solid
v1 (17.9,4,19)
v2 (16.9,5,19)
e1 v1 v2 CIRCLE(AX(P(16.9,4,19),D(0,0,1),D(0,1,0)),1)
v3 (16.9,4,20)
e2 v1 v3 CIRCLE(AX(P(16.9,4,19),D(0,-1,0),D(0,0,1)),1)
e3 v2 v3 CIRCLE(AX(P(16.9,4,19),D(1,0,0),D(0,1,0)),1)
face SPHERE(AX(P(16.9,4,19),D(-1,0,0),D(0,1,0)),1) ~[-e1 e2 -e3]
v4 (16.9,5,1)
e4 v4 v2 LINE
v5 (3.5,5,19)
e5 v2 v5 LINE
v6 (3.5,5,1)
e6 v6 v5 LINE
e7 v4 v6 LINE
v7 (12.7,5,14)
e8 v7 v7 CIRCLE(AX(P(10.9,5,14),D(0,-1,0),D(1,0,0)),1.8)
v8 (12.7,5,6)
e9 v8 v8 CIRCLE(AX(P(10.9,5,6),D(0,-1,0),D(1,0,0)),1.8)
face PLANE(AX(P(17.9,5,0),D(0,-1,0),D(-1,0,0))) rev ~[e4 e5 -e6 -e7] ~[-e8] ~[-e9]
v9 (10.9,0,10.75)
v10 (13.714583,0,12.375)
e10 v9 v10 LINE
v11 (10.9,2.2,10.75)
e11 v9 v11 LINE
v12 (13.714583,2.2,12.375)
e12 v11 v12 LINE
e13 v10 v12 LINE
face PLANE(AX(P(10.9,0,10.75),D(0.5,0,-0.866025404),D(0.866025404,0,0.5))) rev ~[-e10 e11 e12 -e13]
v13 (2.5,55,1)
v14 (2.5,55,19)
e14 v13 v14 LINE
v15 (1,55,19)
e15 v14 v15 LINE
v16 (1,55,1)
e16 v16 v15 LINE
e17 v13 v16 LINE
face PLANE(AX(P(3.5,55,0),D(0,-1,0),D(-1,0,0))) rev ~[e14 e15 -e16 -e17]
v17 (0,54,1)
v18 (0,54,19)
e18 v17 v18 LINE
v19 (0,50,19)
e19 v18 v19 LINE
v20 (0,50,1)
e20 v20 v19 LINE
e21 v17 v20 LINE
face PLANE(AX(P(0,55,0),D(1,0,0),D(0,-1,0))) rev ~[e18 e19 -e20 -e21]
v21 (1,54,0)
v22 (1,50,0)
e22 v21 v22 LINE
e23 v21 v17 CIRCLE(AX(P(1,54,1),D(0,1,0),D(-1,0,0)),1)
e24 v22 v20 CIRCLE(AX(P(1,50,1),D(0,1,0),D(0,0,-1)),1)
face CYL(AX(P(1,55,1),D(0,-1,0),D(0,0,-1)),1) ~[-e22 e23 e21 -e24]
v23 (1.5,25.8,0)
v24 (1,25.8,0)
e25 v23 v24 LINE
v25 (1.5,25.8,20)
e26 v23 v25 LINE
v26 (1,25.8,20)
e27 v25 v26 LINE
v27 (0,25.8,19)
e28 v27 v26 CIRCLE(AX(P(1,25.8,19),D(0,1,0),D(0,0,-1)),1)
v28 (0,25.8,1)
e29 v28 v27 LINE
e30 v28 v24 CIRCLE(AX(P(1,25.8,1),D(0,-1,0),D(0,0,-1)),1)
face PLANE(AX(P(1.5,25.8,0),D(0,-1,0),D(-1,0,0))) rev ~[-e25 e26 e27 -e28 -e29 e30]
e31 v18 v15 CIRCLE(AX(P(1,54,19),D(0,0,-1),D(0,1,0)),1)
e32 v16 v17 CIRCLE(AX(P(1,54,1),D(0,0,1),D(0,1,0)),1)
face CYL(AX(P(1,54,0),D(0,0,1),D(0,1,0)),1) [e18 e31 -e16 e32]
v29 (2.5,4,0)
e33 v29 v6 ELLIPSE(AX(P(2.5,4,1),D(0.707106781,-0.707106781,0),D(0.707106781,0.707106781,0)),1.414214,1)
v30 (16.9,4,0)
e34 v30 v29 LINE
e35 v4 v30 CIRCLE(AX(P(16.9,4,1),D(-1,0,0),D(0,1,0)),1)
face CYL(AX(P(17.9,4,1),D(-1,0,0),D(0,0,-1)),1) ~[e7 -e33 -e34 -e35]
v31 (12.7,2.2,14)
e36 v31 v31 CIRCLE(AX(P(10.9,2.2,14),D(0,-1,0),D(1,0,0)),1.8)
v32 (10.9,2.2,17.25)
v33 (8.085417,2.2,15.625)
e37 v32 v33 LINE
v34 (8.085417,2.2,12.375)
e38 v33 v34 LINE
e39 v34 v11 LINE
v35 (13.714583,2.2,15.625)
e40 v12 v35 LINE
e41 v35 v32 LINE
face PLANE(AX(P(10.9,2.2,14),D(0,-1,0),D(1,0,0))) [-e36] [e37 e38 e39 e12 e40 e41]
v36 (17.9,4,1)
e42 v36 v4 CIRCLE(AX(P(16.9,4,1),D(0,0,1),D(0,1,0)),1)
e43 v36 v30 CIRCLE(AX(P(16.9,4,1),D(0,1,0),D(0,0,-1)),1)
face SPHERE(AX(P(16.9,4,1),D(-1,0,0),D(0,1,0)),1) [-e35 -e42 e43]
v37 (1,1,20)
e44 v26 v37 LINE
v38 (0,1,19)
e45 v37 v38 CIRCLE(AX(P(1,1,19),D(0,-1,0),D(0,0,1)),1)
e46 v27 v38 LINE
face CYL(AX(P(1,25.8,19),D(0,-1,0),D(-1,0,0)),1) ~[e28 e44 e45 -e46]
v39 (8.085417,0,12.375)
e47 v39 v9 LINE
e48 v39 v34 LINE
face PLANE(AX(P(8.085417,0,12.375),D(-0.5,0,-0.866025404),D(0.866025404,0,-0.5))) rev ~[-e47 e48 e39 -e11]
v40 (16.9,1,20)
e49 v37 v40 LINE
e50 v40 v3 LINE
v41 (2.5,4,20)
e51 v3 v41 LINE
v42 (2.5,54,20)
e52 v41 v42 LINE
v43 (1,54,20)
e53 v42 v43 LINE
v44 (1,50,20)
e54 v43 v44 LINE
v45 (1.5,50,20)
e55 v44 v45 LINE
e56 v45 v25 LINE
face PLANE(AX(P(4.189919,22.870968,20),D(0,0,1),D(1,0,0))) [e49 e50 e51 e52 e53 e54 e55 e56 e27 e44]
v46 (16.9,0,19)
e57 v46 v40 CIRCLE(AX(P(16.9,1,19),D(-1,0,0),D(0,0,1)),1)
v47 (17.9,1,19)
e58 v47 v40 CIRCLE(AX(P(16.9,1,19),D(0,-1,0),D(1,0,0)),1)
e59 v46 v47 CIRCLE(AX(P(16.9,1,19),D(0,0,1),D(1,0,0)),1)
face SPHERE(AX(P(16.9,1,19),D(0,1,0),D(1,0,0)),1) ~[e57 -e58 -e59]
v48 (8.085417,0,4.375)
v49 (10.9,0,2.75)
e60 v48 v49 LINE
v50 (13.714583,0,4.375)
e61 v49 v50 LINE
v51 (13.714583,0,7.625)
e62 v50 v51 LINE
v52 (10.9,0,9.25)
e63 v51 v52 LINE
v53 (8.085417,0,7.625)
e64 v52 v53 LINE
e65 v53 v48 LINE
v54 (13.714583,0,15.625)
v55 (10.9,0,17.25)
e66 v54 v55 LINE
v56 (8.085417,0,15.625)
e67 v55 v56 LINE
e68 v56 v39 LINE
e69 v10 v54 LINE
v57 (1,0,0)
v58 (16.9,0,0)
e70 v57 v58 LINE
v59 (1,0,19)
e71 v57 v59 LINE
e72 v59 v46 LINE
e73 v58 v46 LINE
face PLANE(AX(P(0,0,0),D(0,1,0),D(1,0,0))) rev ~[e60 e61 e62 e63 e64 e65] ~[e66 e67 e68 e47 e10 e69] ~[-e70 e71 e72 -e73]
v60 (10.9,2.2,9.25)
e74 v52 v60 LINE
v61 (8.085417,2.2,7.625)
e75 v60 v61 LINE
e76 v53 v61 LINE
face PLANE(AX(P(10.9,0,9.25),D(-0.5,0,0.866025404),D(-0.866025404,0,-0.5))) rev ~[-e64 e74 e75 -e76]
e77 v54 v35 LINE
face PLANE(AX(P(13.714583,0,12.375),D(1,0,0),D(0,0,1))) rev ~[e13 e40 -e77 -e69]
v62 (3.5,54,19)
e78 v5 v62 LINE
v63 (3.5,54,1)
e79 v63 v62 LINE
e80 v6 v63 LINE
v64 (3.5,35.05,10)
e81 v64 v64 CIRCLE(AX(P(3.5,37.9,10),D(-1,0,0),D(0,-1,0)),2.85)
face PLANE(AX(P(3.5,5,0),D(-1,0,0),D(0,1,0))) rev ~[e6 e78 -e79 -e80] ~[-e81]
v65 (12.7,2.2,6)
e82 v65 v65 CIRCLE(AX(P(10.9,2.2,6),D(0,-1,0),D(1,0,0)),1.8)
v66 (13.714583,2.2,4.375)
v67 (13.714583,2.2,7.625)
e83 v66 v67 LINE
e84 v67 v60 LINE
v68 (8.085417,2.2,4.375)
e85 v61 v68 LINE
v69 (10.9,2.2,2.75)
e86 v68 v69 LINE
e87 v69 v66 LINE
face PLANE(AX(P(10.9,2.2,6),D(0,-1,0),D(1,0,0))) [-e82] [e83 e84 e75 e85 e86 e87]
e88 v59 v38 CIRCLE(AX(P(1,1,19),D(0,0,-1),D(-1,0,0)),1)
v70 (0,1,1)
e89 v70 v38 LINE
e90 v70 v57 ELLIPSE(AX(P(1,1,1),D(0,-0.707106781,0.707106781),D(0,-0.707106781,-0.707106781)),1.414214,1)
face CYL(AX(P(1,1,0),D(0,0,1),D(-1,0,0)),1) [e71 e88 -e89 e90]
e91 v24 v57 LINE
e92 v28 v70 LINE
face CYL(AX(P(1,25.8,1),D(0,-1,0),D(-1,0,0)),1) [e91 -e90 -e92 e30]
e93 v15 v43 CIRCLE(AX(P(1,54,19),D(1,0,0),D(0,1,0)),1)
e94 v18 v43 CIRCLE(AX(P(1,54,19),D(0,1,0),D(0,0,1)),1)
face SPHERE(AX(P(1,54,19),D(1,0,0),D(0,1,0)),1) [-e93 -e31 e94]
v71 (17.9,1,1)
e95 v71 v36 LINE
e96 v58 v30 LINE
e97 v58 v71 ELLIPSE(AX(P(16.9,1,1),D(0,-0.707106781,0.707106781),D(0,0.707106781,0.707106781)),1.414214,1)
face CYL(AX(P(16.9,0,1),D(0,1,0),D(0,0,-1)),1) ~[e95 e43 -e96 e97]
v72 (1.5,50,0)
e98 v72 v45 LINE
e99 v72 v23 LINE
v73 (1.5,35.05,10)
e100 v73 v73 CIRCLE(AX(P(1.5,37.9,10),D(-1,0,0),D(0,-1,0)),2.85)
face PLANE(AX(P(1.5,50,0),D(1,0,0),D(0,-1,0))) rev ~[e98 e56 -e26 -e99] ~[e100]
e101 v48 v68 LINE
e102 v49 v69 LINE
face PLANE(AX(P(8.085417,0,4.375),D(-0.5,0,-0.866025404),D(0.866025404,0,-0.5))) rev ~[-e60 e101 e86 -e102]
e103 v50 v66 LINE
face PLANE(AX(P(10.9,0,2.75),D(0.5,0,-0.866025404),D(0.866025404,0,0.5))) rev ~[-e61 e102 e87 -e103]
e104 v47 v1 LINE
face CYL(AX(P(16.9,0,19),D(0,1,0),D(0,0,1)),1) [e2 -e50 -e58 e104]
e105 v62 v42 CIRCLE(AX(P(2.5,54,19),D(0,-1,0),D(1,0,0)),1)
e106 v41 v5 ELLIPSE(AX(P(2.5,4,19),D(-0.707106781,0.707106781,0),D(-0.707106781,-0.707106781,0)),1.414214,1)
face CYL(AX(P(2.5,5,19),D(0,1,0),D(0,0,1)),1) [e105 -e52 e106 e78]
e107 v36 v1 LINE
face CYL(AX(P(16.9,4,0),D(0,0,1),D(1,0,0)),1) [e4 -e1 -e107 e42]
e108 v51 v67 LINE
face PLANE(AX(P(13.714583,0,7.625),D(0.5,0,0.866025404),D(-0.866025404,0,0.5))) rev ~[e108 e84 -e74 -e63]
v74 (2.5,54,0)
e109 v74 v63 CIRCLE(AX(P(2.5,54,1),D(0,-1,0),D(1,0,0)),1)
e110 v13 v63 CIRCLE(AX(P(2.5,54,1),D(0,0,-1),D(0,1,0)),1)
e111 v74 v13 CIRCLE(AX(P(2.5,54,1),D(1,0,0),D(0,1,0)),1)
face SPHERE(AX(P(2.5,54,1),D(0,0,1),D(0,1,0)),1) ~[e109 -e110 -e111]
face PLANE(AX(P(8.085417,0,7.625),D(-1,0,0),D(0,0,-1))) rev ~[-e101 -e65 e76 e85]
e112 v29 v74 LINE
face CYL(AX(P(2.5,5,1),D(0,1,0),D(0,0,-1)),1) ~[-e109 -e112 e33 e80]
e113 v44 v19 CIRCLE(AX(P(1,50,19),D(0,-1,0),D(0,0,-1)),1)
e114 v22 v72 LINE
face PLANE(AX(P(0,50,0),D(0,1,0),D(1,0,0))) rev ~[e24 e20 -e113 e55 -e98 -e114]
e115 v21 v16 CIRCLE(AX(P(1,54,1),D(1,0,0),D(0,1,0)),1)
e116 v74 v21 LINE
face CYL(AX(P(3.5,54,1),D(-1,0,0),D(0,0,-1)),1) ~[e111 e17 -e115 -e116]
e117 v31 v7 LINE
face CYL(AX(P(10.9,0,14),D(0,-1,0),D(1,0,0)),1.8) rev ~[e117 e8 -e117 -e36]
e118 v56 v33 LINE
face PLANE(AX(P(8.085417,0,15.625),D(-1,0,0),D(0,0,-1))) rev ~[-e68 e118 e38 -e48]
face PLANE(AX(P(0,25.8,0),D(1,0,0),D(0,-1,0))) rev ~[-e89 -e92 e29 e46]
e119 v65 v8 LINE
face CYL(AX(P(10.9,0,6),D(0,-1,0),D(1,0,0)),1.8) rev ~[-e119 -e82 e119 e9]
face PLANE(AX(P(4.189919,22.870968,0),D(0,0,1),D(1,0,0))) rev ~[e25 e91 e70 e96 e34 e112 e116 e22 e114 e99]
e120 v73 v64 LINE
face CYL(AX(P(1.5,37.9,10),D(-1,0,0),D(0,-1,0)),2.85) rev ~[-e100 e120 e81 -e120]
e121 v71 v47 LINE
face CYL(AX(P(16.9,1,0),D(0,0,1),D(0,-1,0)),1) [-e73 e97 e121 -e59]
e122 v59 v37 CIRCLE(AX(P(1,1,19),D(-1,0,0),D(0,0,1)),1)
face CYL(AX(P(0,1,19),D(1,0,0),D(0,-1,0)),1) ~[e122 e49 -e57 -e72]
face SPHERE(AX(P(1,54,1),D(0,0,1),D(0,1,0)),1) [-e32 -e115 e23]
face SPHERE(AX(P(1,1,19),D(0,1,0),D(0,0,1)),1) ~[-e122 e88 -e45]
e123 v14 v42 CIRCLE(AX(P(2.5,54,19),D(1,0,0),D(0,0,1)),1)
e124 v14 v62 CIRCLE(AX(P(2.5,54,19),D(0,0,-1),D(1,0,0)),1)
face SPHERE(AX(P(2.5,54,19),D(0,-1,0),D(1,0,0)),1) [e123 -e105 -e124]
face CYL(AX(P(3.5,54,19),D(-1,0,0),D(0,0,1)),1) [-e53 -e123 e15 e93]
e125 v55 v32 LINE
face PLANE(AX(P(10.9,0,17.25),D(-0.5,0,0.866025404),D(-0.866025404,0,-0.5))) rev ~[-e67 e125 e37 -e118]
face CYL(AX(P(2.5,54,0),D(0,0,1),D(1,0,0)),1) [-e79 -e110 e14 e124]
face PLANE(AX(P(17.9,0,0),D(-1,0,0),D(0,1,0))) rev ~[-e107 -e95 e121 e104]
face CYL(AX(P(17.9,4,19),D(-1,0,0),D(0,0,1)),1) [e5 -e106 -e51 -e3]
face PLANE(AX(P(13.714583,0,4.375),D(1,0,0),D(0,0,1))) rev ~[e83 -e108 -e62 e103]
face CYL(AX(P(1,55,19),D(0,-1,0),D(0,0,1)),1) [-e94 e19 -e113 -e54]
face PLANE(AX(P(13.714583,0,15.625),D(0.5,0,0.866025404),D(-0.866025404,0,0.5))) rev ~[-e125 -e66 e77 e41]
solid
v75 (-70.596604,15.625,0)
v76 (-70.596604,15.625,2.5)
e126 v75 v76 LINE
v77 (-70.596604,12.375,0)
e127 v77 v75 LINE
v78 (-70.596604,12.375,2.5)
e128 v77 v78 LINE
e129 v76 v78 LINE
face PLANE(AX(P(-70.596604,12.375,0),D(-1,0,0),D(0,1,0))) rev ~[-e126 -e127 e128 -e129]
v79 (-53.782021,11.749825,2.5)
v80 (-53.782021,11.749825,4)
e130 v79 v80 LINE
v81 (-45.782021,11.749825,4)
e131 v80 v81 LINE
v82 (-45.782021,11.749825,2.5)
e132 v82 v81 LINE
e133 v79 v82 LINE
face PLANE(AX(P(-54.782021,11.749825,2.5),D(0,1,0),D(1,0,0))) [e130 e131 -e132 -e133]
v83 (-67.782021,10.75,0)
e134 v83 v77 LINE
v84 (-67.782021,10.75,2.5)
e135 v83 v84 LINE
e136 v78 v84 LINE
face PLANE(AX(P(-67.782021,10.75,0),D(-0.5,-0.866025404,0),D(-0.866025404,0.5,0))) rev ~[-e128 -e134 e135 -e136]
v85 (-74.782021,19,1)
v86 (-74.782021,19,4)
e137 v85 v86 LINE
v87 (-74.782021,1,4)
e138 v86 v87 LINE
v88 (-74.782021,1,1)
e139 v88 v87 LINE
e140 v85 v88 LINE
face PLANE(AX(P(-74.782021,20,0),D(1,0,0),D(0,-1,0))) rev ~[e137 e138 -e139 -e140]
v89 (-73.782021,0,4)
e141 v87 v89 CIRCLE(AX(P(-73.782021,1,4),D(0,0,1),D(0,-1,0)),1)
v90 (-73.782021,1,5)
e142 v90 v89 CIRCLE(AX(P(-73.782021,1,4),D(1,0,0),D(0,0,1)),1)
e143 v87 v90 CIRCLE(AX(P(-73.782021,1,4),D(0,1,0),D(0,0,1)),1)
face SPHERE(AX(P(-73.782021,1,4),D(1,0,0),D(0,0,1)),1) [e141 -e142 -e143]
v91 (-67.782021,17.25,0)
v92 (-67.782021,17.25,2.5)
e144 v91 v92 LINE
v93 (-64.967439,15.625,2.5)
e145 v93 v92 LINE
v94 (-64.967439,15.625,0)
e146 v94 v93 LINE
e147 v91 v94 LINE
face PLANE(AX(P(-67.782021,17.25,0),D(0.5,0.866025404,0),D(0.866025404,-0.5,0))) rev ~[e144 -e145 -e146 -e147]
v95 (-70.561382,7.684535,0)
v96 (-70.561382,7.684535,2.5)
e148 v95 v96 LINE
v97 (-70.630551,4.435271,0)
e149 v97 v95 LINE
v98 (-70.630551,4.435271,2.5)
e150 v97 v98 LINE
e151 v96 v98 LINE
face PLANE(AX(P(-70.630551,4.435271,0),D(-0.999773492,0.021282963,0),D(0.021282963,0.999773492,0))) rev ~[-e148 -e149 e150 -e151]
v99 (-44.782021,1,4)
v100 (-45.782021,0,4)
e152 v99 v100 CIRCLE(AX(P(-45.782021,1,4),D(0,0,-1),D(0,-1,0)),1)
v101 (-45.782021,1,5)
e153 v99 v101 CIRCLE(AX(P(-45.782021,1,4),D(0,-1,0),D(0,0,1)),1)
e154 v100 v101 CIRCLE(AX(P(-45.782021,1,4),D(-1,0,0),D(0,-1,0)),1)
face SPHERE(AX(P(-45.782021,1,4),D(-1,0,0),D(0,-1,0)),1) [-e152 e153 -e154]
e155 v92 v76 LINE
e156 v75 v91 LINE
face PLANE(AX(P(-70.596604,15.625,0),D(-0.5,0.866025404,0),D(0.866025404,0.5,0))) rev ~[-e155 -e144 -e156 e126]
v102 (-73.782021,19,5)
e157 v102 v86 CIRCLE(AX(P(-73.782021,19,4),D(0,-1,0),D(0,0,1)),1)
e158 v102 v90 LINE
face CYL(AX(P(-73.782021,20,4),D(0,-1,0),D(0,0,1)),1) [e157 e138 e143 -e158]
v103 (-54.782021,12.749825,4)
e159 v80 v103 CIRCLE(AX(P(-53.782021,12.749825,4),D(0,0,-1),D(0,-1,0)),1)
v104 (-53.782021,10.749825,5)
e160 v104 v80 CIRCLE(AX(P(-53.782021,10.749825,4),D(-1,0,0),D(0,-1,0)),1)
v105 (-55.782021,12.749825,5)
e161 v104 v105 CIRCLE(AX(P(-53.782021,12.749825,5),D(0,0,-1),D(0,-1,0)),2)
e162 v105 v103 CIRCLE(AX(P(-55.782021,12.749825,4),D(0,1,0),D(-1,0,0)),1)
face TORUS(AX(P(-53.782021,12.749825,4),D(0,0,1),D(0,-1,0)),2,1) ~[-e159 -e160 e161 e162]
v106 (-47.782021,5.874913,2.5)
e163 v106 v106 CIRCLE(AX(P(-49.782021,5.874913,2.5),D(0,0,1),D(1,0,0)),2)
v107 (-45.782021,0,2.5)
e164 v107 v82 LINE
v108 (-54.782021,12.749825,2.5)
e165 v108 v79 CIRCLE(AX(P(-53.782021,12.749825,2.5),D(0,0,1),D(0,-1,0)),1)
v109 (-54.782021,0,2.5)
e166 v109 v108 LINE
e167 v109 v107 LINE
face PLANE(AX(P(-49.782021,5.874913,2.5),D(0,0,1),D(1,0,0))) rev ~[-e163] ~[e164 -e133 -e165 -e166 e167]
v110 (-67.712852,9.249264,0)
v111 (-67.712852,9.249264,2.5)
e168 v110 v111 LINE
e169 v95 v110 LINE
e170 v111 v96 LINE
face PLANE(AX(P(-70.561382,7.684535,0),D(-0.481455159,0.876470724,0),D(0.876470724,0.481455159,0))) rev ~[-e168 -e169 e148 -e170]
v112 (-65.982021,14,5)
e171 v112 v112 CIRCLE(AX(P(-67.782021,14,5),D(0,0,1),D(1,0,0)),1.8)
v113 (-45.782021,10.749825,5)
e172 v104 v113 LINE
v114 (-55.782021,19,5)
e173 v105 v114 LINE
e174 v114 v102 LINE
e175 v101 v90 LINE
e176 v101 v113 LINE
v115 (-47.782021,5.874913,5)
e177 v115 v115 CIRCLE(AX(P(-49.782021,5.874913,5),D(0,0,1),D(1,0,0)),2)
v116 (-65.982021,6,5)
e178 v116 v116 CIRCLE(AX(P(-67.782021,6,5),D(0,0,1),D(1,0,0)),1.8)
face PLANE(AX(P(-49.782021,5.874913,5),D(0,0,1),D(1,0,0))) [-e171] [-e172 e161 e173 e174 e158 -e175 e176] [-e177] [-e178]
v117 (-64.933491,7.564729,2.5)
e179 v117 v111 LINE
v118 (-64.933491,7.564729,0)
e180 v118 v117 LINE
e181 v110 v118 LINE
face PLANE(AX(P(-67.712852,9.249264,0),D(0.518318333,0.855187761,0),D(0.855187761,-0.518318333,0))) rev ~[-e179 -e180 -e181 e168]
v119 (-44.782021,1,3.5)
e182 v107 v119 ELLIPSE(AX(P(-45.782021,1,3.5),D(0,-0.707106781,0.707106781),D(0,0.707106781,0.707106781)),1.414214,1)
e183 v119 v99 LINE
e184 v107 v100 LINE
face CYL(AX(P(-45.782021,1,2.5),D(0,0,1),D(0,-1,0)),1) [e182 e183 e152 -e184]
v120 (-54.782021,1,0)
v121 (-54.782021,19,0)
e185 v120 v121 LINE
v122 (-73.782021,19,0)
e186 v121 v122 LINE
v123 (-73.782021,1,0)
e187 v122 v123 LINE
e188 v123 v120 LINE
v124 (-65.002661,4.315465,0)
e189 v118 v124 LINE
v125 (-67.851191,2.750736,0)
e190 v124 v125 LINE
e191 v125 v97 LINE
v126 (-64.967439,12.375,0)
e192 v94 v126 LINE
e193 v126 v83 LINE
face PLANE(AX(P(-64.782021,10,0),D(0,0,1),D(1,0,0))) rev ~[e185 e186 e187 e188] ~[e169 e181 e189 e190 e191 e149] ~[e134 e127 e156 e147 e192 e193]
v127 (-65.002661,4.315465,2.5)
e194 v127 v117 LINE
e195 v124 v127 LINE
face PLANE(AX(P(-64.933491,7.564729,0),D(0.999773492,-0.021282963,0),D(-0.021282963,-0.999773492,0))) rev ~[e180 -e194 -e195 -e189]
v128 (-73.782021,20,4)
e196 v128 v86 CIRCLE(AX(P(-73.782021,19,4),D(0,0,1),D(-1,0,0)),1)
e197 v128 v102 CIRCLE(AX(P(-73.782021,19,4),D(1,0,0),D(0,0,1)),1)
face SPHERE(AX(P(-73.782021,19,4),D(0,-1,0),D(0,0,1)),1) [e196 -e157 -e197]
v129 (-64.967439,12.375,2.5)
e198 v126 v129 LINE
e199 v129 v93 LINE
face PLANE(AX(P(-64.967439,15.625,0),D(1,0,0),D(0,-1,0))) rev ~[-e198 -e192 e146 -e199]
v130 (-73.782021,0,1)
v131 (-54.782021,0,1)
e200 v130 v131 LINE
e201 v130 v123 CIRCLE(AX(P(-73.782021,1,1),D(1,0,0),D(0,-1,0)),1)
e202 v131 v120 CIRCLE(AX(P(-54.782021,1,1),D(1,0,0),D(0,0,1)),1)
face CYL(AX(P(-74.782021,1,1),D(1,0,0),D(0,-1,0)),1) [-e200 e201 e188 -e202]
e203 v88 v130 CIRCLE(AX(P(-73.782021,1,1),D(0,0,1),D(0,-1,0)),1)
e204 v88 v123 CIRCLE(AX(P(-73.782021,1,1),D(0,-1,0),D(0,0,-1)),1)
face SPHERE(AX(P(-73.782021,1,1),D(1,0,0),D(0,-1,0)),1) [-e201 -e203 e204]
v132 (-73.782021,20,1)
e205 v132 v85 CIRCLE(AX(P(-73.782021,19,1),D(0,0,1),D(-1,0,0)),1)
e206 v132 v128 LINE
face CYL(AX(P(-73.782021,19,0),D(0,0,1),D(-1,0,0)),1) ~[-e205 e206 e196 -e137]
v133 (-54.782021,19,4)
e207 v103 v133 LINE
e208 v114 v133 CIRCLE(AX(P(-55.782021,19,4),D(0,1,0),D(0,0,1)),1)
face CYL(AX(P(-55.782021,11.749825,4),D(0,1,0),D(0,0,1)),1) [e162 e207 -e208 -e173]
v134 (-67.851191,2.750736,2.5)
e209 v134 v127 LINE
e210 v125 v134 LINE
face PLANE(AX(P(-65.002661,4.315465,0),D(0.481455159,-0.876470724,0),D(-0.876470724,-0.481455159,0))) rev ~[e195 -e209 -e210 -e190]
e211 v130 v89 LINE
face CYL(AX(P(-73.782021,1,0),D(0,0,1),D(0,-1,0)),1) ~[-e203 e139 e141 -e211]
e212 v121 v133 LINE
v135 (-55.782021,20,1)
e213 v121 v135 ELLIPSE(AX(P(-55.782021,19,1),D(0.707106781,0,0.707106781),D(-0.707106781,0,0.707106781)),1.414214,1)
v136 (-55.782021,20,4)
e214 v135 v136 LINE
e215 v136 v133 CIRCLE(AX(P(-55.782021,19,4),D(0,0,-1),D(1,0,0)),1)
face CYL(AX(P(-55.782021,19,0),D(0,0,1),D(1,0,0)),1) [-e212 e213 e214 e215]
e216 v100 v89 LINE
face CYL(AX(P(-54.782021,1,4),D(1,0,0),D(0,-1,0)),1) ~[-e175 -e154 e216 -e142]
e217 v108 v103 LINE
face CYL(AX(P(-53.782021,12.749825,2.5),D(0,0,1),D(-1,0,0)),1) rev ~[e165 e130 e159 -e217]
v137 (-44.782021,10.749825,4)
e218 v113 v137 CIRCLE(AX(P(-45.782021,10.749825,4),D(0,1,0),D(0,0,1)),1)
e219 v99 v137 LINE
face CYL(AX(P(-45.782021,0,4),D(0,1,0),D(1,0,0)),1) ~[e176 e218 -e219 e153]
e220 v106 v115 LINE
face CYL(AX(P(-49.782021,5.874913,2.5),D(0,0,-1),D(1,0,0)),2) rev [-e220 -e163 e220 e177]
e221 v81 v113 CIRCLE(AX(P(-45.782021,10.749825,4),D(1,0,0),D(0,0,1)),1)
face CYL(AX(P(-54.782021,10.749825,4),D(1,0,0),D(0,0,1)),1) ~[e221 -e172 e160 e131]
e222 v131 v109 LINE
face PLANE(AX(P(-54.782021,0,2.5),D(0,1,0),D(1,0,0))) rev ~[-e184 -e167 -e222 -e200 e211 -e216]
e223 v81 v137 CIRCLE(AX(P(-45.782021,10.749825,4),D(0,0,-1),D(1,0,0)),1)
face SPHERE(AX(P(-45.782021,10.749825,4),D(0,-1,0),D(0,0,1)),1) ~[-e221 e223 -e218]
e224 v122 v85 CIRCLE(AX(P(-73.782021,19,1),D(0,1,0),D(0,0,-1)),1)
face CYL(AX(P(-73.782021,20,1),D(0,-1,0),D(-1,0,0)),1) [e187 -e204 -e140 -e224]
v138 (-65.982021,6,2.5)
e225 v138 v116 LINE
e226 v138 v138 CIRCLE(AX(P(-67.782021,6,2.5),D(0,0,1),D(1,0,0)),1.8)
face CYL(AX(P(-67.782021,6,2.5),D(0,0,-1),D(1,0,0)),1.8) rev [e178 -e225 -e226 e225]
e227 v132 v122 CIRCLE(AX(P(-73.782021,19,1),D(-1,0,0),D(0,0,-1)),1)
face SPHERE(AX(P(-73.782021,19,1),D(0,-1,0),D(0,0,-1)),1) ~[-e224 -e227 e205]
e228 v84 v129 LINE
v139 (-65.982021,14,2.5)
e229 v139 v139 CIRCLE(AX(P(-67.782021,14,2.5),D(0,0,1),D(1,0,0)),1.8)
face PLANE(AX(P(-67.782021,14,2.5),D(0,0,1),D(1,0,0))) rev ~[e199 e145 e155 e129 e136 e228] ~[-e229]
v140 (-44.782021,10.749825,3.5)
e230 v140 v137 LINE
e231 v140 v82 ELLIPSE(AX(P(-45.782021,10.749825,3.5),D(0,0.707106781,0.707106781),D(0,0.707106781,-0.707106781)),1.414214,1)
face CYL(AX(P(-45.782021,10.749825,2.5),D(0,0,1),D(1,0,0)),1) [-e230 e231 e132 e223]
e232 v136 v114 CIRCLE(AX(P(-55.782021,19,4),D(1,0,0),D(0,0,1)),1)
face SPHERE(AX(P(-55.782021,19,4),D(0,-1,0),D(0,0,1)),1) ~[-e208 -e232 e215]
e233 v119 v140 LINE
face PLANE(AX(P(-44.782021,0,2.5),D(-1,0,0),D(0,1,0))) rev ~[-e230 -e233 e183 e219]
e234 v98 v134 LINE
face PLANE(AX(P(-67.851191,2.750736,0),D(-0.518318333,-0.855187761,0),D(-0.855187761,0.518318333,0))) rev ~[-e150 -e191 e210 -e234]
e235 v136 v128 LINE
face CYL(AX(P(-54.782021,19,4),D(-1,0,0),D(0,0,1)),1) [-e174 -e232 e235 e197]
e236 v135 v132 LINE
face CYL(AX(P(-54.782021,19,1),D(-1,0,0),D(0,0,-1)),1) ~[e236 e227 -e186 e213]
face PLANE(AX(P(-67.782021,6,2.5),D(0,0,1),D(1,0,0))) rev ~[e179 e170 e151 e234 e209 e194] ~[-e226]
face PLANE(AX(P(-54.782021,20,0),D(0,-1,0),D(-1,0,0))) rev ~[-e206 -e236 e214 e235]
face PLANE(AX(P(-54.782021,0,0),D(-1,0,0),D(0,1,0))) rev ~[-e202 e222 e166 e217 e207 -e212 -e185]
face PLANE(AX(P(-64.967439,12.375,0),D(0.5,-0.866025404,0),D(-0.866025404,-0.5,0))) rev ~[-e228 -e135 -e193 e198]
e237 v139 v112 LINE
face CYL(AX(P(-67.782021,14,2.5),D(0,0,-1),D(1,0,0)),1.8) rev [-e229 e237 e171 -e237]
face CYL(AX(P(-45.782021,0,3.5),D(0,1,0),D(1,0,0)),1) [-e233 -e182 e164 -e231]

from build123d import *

# Parameters (mm, degrees)
F1_DEPTH  = 20
F2_R      = 1.8
F3_DEPTH  = 5
F4_DEPTH  = 2.2
F5_R      = 2.85
F6_DEPTH  = 25
F7_R      = 1
F8_DEPTH  = 5
F9_START  = 2.5
F0_R      = 1.8
F9_DEPTH  = 2.5
F10_START = 2.5
F0_W      = 10
F0_H      = 11.7498254403
F0_R_2    = 2
F10_DEPTH = 2.5
F11_R     = 1


with BuildPart() as f1:
    # F0 (on Top) → F1 (new body)
    with BuildSketch(Plane.XY):
        Polygon((0, 25.8), (0, 0), (17.9, 0), (17.9, 5), (3.5, 5), (3.5, 55), (0, 55), (0, 50), (1.5, 50), (1.5, 25.8), align=None)
    extrude(amount=F1_DEPTH)

    # F2 (on face) → F3 (cut)
    with BuildSketch(Plane.XZ):
        with Locations((10.9, 6)):
            Circle(F2_R)
        with Locations((10.9, 14)):
            Circle(F2_R)
    extrude(amount=-F3_DEPTH, mode=Mode.SUBTRACT)

    # F2 (on face) → F4 (cut)
    with BuildSketch(Plane.XZ):
        Polygon((8.0854174377, 12.375), (10.9, 10.75), (13.7145825623, 12.375), (13.7145825623, 15.625), (10.9, 17.25), (8.0854174377, 15.625), align=None)
        with Locations((10.9, 14)):
            Circle(F2_R, mode=Mode.SUBTRACT)
        Polygon((13.7145825623, 7.625), (10.9, 9.25), (8.0854174377, 7.625), (8.0854174377, 4.375), (10.9, 2.75), (13.7145825623, 4.375), align=None)
        with Locations((10.9, 6)):
            Circle(F2_R, mode=Mode.SUBTRACT)
    extrude(amount=-F4_DEPTH, mode=Mode.SUBTRACT)

    # F5 (on face) → F6 (cut)
    with BuildSketch(Plane(origin=(1.5, 0, 0), x_dir=(0, -1, 0), z_dir=(-1, 0, 0))):
        with Locations((-37.9, 10)):
            Circle(F5_R)
    extrude(amount=-F6_DEPTH, mode=Mode.SUBTRACT)

    # F7
    f7_edges = [f1.edges().sort_by_distance(p)[0] for p in [
        (10.7, 5, 20),
        (3.5, 30, 20),
        (3.5, 55, 10),
        (1.75, 55, 20),
        (0, 55, 10),
        (1.75, 55, 0),
        (3.5, 30, 0),
        (10.7, 5, 0),
        (17.9, 5, 10),
        (17.9, 2.5, 0),
        (17.9, 2.5, 20),
        (17.9, 0, 10),
        (0, 12.9, 20),
        (8.95, 0, 20),
        (0, 52.5, 20),
        (0, 12.9, 0),
        (0, 0, 10),
        (0, 52.5, 0),
    ]]
    fillet(f7_edges, radius=F7_R)


with BuildPart() as f8:
    # F0 (on Top) → F8 (new body)
    with BuildSketch(Plane.XY):
        Polygon((-74.7820213437, 20), (-74.7820213437, 0), (-54.7820213437, 0), (-54.7820213437, 11.7498254403), (-54.7820213437, 20), align=None)
        Polygon((-70.630551196, 4.4352707325), (-70.5613815655, 7.6845345818), (-67.7128517132, 9.2492638493), (-64.9334914914, 7.5647292675), (-65.0026611219, 4.3154654182), (-67.8511909742, 2.7507361507), align=None, mode=Mode.SUBTRACT)
        Polygon((-64.9674387814, 12.375), (-67.7820213437, 10.75), (-70.596603906, 12.375), (-70.596603906, 15.625), (-67.7820213437, 17.25), (-64.9674387814, 15.625), align=None, mode=Mode.SUBTRACT)
    extrude(amount=F8_DEPTH)

    # F0 (on Top) → F9 (join)
    with BuildSketch(Plane.XY.offset(F9_START)):
        Polygon((-67.7128517132, 9.2492638493), (-70.5613815655, 7.6845345818), (-70.630551196, 4.4352707325), (-67.8511909742, 2.7507361507), (-65.0026611219, 4.3154654182), (-64.9334914914, 7.5647292675), align=None)
        with Locations((-67.7820213437, 6)):
            Circle(F0_R, mode=Mode.SUBTRACT)
        Polygon((-70.596603906, 12.375), (-67.7820213437, 10.75), (-64.9674387814, 12.375), (-64.9674387814, 15.625), (-67.7820213437, 17.25), (-70.596603906, 15.625), align=None)
        with Locations((-67.7820213437, 14)):
            Circle(F0_R, mode=Mode.SUBTRACT)
    extrude(amount=F9_DEPTH)

    # F0 (on Top) → F10 (join)
    with BuildSketch(Plane.XY.offset(F10_START)):
        with Locations((-49.7820213437, 5.8749127202)):
            Rectangle(F0_W, F0_H)
        with Locations((-49.7820213437, 5.8749127202)):
            Circle(F0_R_2, mode=Mode.SUBTRACT)
    extrude(amount=F10_DEPTH)

    # F11
    f11_edges = [f8.edges().sort_by_distance(p)[0] for p in [
        (-59.782021, 0, 5),
        (-64.782021, 0, 0),
        (-44.782021, 0, 3.75),
        (-44.782021, 5.874913, 5),
        (-49.782021, 11.749825, 5),
        (-54.782021, 15.874913, 5),
        (-74.782021, 10, 5),
        (-64.782021, 20, 5),
        (-74.782021, 0, 2.5),
        (-74.782021, 10, 0),
        (-44.782021, 5.874913, 2.5),
        (-44.782021, 11.749825, 3.75),
        (-54.782021, 11.749825, 3.75),
        (-64.782021, 20, 0),
        (-54.782021, 20, 2.5),
        (-74.782021, 20, 2.5),
    ]]
    fillet(f11_edges, radius=F11_R)


solid = Compound([f1.part, f8.part])
